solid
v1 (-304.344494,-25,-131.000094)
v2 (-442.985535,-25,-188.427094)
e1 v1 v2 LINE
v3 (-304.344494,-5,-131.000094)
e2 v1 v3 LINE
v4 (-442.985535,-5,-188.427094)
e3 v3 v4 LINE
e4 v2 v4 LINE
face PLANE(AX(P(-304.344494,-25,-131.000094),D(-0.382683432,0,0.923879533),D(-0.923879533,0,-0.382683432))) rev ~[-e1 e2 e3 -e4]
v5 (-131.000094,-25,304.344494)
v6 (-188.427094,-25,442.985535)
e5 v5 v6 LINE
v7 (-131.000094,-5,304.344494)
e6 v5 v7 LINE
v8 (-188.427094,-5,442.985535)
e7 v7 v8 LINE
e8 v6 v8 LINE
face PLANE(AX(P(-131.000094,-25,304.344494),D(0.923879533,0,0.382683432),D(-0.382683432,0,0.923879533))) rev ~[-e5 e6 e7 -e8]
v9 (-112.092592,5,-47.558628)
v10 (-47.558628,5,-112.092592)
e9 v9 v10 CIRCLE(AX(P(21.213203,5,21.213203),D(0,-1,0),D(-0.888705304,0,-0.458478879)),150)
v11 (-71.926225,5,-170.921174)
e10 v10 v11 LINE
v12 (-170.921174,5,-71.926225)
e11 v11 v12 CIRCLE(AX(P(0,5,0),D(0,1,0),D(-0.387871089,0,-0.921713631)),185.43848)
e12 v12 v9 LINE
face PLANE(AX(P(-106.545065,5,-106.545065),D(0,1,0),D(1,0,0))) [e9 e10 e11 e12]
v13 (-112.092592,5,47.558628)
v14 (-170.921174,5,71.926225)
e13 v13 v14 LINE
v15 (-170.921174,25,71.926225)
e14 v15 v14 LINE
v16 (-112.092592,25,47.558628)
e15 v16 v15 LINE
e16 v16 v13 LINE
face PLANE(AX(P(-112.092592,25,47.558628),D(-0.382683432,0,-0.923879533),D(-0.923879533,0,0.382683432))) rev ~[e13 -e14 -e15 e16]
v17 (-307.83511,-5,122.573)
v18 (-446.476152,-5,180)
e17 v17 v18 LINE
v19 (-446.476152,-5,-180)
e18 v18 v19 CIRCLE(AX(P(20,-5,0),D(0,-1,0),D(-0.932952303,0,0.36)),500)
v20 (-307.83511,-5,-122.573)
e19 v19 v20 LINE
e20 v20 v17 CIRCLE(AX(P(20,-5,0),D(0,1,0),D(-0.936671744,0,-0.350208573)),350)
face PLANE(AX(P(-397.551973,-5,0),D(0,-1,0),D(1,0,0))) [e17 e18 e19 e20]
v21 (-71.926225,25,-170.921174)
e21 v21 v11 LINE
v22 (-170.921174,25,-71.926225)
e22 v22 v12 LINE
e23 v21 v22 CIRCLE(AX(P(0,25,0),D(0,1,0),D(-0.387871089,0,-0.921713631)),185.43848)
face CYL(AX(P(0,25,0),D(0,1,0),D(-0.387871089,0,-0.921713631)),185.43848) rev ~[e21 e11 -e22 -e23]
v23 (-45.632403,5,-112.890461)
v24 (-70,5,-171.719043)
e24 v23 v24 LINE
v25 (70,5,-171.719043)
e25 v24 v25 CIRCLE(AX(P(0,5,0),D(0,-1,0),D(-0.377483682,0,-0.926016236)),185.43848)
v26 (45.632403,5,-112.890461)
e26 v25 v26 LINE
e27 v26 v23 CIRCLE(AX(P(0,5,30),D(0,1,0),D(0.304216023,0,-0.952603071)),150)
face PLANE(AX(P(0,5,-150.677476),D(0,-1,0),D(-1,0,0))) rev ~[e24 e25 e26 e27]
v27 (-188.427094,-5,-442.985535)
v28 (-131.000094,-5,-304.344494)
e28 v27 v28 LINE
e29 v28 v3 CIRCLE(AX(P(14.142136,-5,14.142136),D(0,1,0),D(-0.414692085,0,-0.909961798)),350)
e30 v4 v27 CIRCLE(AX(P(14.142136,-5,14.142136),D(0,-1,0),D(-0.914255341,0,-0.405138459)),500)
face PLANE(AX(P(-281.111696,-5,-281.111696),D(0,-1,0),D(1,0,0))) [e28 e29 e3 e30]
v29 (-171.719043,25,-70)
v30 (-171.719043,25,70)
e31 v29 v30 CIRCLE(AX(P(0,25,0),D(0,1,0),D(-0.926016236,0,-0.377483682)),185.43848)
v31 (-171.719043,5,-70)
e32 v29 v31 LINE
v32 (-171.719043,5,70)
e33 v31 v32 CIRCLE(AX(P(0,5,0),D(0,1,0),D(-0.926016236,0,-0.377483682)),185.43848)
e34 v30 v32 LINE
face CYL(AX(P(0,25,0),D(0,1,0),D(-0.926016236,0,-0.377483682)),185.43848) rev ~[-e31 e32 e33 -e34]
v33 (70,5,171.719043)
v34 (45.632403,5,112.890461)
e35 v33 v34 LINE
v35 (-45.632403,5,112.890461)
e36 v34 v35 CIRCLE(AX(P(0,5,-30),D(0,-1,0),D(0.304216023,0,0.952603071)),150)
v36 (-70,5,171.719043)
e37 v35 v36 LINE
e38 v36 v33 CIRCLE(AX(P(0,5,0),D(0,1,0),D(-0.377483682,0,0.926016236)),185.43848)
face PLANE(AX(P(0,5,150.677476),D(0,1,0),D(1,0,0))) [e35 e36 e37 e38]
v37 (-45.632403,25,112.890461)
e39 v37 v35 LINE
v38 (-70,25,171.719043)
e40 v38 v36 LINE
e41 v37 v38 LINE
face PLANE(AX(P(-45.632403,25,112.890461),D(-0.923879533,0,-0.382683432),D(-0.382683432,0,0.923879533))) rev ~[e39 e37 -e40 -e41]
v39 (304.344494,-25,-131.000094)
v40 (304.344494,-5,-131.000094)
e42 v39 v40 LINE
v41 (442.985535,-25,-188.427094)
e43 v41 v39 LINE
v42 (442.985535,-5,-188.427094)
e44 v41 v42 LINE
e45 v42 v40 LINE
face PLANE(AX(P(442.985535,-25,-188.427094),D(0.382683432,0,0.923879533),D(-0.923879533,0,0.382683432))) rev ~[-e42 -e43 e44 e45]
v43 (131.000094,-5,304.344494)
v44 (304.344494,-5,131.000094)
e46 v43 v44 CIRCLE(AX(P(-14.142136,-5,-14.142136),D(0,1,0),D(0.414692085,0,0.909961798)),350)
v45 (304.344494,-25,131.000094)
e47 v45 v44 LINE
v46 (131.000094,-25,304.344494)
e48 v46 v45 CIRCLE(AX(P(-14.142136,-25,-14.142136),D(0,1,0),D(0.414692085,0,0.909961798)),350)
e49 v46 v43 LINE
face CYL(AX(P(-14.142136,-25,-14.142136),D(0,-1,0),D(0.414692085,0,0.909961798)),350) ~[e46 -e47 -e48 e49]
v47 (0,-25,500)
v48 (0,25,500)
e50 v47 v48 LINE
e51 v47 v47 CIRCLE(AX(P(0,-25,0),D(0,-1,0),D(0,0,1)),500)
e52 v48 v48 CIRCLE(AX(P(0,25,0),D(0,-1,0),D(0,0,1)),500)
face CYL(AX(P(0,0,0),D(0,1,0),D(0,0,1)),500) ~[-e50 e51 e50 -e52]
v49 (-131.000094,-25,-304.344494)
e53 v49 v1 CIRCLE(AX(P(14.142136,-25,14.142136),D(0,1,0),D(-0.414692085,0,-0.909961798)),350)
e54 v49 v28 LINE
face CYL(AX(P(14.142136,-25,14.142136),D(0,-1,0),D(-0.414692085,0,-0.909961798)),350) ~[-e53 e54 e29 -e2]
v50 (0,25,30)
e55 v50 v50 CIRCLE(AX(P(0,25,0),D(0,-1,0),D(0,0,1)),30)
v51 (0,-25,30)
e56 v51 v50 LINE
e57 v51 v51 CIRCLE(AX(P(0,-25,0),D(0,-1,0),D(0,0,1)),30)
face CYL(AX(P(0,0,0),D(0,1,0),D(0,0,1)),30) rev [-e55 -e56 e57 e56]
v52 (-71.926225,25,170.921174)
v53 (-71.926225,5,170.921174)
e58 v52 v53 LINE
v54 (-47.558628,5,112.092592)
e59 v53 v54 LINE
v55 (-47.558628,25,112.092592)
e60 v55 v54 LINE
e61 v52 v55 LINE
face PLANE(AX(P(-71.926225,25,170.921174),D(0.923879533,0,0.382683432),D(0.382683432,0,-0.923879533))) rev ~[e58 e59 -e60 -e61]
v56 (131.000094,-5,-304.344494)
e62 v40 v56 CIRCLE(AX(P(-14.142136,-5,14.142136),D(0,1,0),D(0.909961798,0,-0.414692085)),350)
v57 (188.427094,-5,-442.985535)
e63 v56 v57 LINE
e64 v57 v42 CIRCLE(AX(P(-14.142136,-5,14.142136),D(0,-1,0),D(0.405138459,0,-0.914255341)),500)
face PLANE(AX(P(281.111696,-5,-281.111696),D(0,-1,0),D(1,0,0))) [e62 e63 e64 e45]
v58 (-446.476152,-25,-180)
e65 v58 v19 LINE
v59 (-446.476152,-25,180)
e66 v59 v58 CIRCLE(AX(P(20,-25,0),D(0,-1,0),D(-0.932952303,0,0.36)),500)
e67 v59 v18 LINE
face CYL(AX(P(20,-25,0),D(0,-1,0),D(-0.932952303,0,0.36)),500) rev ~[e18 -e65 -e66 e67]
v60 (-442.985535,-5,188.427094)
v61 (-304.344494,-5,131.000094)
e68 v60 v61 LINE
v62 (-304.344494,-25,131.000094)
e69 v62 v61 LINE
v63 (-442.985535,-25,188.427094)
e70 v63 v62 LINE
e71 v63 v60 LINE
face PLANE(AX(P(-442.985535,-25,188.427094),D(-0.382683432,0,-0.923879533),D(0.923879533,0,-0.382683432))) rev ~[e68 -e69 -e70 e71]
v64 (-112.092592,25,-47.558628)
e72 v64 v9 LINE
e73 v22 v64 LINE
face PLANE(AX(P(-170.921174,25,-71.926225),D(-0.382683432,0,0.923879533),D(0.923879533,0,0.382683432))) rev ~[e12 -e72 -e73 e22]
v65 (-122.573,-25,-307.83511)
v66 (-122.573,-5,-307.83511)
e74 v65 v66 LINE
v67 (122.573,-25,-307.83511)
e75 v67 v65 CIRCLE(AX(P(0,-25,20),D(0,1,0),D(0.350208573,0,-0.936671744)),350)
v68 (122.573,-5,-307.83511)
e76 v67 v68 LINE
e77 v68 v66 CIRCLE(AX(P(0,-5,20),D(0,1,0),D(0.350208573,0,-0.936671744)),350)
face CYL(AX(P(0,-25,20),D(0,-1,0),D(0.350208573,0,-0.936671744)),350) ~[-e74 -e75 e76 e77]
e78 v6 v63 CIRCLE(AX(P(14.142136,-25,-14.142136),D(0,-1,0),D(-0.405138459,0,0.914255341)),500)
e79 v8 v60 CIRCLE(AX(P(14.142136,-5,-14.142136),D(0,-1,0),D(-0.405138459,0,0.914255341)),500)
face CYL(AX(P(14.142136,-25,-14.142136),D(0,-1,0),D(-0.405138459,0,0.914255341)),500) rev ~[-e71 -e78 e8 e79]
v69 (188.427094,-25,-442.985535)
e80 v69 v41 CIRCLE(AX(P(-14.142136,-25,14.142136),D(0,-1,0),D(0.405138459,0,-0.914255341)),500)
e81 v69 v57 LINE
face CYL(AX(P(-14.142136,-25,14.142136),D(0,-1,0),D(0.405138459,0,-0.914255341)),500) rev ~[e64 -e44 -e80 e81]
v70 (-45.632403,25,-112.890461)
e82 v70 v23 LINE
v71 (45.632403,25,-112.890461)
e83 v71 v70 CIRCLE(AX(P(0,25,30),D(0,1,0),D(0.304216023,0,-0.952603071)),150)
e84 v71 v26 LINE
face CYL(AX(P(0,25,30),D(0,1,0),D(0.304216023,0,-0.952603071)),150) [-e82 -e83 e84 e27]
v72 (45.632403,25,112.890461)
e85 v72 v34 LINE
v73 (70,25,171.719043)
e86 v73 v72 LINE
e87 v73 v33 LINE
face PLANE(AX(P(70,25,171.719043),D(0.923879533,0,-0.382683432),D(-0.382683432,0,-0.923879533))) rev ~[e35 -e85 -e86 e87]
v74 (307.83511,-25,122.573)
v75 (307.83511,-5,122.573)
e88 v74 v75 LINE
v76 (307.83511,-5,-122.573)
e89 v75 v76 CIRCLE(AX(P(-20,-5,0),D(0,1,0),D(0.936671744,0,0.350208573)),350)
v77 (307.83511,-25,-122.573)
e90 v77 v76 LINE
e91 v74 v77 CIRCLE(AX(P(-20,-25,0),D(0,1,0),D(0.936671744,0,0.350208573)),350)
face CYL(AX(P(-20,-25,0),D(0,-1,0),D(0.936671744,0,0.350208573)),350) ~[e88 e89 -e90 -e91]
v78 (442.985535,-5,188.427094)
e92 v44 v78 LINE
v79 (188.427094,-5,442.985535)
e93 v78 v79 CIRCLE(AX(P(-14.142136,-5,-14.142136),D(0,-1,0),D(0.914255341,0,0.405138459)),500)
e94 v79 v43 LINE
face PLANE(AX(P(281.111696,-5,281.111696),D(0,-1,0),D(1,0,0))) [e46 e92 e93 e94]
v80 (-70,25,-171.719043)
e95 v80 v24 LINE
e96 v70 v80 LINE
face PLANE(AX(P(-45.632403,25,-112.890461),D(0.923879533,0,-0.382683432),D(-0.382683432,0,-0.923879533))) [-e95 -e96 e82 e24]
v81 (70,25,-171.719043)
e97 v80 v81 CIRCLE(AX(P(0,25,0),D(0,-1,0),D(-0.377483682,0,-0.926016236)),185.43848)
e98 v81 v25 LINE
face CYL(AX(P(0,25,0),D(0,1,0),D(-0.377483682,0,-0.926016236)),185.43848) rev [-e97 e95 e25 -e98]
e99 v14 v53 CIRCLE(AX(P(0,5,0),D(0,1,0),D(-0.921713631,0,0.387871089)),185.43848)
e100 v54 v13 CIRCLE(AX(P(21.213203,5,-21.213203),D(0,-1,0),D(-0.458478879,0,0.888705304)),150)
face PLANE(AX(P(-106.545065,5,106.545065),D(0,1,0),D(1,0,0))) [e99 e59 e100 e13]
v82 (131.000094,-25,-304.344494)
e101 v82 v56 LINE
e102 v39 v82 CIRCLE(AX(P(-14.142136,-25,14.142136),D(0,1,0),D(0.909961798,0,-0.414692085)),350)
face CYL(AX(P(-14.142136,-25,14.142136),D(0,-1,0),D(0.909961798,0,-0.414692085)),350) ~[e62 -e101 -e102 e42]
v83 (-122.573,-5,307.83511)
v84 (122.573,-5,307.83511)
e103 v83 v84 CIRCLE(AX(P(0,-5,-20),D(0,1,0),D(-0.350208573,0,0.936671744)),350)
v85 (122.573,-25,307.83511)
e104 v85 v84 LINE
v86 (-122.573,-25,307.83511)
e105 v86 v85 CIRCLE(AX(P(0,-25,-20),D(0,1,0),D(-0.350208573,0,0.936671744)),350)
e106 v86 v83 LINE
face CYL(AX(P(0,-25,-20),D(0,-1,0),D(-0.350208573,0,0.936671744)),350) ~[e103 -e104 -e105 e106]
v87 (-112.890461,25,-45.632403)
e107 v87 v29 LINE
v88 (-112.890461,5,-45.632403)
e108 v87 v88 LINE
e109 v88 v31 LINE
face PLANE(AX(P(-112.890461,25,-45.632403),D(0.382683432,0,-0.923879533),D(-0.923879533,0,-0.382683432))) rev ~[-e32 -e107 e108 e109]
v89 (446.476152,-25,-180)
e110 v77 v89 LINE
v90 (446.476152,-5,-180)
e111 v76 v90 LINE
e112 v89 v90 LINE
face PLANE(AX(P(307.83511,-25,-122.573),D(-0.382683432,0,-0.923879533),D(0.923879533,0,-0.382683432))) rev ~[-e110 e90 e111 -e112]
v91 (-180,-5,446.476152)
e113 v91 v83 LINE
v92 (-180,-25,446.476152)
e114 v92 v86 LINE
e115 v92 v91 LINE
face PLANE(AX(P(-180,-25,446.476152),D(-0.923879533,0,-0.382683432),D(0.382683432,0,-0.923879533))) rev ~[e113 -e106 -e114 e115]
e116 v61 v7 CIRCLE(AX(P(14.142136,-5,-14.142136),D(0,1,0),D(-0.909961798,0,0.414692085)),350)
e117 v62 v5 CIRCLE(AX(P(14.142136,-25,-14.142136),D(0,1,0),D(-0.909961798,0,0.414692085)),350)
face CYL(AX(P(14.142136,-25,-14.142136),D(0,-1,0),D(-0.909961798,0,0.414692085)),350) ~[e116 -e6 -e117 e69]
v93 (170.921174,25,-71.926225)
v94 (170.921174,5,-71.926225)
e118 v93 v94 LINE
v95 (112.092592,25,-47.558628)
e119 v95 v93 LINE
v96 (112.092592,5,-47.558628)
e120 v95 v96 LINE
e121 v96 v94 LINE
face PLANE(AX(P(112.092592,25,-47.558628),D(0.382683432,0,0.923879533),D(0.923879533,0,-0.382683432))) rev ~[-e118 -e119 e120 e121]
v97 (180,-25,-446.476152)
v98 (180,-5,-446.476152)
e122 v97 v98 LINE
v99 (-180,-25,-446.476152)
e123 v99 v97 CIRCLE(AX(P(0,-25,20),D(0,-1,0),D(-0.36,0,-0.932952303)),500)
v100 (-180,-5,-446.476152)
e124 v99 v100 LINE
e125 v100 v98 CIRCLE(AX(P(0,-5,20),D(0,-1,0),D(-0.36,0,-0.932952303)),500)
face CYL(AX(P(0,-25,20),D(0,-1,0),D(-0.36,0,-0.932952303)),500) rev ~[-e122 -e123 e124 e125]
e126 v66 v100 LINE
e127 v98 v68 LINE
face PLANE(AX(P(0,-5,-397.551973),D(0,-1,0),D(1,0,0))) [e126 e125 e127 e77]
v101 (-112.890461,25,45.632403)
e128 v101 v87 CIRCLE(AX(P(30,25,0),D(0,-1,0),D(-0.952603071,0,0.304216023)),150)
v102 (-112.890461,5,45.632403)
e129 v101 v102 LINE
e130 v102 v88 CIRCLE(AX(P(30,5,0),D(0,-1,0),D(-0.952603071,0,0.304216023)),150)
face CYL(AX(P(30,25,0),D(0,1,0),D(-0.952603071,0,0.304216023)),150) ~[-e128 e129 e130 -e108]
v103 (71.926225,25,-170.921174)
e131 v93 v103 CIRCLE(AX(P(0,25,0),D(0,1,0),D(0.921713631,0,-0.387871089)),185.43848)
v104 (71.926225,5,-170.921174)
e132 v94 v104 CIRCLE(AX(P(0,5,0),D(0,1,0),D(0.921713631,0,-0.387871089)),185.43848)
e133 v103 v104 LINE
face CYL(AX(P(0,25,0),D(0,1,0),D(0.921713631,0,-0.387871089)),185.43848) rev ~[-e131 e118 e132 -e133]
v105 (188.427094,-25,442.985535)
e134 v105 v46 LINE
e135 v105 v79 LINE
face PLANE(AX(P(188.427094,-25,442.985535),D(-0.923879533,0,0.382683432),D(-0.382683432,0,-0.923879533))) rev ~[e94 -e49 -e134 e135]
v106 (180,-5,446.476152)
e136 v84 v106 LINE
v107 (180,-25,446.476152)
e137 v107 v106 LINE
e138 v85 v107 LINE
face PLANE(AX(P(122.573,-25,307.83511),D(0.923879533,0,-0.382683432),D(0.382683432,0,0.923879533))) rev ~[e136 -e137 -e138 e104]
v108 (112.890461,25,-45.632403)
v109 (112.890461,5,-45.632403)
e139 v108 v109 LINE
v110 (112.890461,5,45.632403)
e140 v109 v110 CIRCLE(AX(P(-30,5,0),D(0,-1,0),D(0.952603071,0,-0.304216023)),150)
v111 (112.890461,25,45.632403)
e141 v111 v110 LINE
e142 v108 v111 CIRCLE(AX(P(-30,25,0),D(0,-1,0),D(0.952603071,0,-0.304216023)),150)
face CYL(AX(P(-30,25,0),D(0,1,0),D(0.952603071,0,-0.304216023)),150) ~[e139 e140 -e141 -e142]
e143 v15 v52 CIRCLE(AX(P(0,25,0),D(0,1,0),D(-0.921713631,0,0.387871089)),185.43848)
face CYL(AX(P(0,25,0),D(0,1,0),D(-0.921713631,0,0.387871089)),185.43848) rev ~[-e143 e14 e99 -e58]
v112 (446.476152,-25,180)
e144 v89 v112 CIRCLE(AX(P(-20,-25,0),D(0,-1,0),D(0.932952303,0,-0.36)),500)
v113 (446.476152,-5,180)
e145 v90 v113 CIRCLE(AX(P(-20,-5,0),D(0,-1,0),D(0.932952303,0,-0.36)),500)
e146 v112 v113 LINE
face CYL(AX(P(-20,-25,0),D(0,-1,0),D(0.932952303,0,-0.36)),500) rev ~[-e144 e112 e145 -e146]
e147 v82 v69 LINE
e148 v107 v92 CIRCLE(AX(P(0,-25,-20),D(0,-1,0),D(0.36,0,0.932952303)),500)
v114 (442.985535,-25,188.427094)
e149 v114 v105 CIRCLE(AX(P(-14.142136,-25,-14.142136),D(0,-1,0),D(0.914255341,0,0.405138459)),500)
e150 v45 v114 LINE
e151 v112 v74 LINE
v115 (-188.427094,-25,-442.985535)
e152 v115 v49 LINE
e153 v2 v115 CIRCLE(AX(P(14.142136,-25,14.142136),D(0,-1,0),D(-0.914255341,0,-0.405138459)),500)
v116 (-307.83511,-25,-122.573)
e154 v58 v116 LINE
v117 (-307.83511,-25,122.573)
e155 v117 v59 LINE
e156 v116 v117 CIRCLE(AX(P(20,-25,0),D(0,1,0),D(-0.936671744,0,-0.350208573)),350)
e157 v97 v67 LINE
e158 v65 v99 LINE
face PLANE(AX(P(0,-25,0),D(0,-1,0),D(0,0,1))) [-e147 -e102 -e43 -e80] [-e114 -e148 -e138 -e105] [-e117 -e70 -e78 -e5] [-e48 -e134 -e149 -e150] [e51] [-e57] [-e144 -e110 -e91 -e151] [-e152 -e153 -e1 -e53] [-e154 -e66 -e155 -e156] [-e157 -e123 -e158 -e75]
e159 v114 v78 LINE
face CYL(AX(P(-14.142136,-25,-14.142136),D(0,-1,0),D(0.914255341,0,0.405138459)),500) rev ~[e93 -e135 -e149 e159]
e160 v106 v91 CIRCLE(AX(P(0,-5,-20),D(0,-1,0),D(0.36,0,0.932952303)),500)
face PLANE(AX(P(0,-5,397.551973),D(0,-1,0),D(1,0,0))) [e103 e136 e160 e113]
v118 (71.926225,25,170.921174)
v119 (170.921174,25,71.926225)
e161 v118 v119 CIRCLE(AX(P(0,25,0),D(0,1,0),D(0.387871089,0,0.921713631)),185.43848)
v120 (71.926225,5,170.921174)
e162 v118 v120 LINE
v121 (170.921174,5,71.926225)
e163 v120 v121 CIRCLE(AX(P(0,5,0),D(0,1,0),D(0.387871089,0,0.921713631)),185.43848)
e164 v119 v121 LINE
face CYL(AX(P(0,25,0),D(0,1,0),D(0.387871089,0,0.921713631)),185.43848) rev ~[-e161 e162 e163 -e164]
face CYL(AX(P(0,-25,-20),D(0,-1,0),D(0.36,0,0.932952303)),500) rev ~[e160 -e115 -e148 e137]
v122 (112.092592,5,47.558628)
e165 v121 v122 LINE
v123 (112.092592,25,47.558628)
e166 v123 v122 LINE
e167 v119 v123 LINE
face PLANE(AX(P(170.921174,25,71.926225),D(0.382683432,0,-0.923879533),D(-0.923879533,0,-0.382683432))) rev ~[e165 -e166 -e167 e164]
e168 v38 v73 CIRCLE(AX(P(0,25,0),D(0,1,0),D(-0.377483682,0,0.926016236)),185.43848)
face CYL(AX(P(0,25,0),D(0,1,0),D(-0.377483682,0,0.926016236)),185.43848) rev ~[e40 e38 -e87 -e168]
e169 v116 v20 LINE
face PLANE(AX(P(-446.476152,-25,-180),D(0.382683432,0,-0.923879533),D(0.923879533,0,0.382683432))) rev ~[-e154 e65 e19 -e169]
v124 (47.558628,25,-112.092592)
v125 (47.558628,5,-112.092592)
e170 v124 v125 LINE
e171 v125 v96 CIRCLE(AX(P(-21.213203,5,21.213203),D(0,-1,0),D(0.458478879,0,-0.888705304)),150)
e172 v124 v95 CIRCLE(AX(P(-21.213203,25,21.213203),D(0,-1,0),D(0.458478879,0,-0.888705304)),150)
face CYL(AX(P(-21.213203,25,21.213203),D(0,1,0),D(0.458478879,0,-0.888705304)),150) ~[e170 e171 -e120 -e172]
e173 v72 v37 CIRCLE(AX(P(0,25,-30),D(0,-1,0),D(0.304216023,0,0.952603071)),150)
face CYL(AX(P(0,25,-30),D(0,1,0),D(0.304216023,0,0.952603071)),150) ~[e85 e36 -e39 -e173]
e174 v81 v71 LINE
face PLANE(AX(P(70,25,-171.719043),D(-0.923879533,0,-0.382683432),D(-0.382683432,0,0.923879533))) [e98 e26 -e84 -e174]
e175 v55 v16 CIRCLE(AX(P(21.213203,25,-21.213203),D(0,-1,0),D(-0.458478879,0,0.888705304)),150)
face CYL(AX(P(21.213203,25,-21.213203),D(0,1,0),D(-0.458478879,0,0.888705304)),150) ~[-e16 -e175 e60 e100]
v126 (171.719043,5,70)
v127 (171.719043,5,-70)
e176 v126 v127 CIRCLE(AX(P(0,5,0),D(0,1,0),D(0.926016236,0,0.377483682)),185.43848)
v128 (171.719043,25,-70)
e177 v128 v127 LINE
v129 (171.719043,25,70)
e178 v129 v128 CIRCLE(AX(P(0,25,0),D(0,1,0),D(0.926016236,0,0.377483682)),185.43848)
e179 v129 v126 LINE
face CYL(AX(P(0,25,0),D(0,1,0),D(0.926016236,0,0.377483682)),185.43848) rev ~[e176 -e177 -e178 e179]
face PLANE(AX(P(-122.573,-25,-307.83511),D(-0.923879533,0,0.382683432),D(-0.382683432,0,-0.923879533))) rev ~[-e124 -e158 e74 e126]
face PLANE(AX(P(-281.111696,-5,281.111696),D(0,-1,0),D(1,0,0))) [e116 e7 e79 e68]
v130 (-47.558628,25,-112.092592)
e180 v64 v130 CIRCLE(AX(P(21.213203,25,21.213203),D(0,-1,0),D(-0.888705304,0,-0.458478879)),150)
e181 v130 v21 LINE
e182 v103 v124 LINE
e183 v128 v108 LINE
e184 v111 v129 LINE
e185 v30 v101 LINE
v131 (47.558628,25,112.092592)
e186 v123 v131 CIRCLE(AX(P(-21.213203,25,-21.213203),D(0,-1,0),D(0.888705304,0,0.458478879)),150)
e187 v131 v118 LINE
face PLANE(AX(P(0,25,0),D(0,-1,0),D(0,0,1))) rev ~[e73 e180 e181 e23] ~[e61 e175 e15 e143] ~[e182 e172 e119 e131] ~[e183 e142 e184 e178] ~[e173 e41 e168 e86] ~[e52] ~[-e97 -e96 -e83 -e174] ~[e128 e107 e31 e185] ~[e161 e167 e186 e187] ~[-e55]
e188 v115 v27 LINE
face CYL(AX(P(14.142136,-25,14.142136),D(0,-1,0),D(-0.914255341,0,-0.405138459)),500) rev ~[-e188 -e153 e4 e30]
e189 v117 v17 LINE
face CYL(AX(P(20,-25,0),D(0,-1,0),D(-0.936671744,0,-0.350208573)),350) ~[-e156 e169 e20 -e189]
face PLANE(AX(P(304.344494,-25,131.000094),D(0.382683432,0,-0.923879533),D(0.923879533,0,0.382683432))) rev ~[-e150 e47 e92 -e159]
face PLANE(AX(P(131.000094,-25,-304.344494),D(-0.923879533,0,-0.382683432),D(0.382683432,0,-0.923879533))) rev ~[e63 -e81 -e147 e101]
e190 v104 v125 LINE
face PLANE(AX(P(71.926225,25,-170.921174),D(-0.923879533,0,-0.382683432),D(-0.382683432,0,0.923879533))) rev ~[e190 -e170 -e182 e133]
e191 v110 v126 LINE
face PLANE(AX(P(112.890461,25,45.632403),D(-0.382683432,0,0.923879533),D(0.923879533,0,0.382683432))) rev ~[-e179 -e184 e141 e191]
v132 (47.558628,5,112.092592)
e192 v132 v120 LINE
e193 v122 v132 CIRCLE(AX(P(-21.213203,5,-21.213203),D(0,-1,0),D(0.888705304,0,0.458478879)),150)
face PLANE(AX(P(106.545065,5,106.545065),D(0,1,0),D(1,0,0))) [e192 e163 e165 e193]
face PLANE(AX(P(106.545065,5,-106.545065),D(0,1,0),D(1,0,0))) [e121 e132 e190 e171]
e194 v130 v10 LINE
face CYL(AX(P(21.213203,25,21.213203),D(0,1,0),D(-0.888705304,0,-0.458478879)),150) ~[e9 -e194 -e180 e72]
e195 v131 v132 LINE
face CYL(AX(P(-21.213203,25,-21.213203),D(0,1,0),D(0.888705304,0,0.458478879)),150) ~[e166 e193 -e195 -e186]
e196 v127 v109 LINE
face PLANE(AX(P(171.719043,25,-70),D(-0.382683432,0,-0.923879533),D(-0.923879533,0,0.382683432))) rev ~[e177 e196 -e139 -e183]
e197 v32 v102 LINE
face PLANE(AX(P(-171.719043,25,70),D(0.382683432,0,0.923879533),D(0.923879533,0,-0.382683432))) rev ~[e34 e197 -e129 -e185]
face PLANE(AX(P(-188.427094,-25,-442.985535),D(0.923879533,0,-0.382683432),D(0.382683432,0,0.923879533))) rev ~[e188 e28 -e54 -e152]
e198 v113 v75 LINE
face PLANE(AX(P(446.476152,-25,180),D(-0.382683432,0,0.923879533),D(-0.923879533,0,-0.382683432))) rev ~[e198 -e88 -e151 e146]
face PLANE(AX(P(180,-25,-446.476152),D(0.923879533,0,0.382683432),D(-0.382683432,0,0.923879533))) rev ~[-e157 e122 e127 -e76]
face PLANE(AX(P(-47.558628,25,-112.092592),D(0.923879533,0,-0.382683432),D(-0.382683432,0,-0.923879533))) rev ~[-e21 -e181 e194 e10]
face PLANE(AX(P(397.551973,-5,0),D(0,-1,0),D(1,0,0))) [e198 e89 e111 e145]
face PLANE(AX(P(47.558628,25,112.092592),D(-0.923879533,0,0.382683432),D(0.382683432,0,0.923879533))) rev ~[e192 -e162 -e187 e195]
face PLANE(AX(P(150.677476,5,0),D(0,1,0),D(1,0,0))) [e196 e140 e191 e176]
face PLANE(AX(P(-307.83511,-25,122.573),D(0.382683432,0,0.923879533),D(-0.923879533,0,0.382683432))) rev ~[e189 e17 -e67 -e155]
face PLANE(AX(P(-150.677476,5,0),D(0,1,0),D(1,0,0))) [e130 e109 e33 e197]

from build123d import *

# Parameters (mm, degrees)
SKETCH1_W          = 470
SKETCH1_H          = 50
CUT_EXTRUDE1_DEPTH = 20
CUT_EXTRUDE2_DEPTH = 20


with BuildPart() as part:
    # Sketch1 → Revolve1 (revolve)
    with BuildSketch(Plane(origin=(0, 0, 0), x_dir=(0, 0, -1), z_dir=(1, 0, 0))):
        with Locations((-265, 0)):
            Rectangle(SKETCH1_W, SKETCH1_H)
    revolve(axis=Axis((0, 285.555555556, 0), (0, -1, 0)))

    # Sketch2 → Cut-Extrude1 (cut)
    with BuildSketch(Plane.XZ.offset(25)):
        with BuildLine():
            Line((-180, 446.476151588), (-122.573000413, 307.835110337))
            ThreePointArc((-122.573000413, 307.835110337), (0, 330), (122.573000413, 307.835110337))
            Line((122.573000413, 307.835110337), (180, 446.476151588))
            ThreePointArc((180, 446.476151588), (0, 480), (-180, 446.476151588))
        make_face()
        with BuildLine():
            Line((188.427093812, 442.985535039), (131.000094225, 304.344493789))
            ThreePointArc((131.000094225, 304.344493789), (233.345237792, 233.345237792), (304.344493789, 131.000094225))
            Line((304.344493789, 131.000094225), (442.985535039, 188.427093812))
            ThreePointArc((442.985535039, 188.427093812), (339.41125497, 339.41125497), (188.427093812, 442.985535039))
        make_face()
        with BuildLine():
            Line((446.476151588, 180), (307.835110337, 122.573000413))
            ThreePointArc((307.835110337, 122.573000413), (330, 0), (307.835110337, -122.573000413))
            Line((307.835110337, -122.573000413), (446.476151588, -180))
            ThreePointArc((446.476151588, -180), (480, 0), (446.476151588, 180))
        make_face()
        with BuildLine():
            Line((442.985535039, -188.427093812), (304.344493789, -131.000094225))
            ThreePointArc((304.344493789, -131.000094225), (233.345237792, -233.345237792), (131.000094225, -304.344493789))
            Line((131.000094225, -304.344493789), (188.427093812, -442.985535039))
            ThreePointArc((188.427093812, -442.985535039), (339.41125497, -339.41125497), (442.985535039, -188.427093812))
        make_face()
        with BuildLine():
            Line((180, -446.476151588), (122.573000413, -307.835110337))
            ThreePointArc((122.573000413, -307.835110337), (0, -330), (-122.573000413, -307.835110337))
            Line((-122.573000413, -307.835110337), (-180, -446.476151588))
            ThreePointArc((-180, -446.476151588), (0, -480), (180, -446.476151588))
        make_face()
        with BuildLine():
            Line((-188.427093812, -442.985535039), (-131.000094225, -304.344493789))
            ThreePointArc((-131.000094225, -304.344493789), (-233.345237792, -233.345237792), (-304.344493789, -131.000094225))
            Line((-304.344493789, -131.000094225), (-442.985535039, -188.427093812))
            ThreePointArc((-442.985535039, -188.427093812), (-339.41125497, -339.41125497), (-188.427093812, -442.985535039))
        make_face()
        with BuildLine():
            Line((-446.476151588, -180), (-307.835110337, -122.573000413))
            ThreePointArc((-307.835110337, -122.573000413), (-330, 0), (-307.835110337, 122.573000413))
            Line((-307.835110337, 122.573000413), (-446.476151588, 180))
            ThreePointArc((-446.476151588, 180), (-480, 0), (-446.476151588, -180))
        make_face()
        with BuildLine():
            Line((-442.985535039, 188.427093812), (-304.344493789, 131.000094225))
            ThreePointArc((-304.344493789, 131.000094225), (-233.345237792, 233.345237792), (-131.000094225, 304.344493789))
            Line((-131.000094225, 304.344493789), (-188.427093812, 442.985535039))
            ThreePointArc((-188.427093812, 442.985535039), (-339.41125497, 339.41125497), (-442.985535039, 188.427093812))
        make_face()
    extrude(amount=-CUT_EXTRUDE1_DEPTH, mode=Mode.SUBTRACT)

    # Sketch3 → Cut-Extrude2 (cut)
    with BuildSketch(Plane(origin=(0, 25, 0), x_dir=(1, 0, 0), z_dir=(0, 1, 0))):
        with BuildLine():
            Line((-45.632403393, 112.890460705), (-70, 171.719042916))
            ThreePointArc((-70, 171.719042916), (0, 185.438479556), (70, 171.719042916))
            Line((70, 171.719042916), (45.632403393, 112.890460705))
            ThreePointArc((45.632403393, 112.890460705), (0, 120), (-45.632403393, 112.890460705))
        make_face()
        with BuildLine():
            Line((112.092592177, 47.558628415), (170.921174388, 71.926225022))
            ThreePointArc((170.921174388, 71.926225022), (131.124806387, 131.124806387), (71.926225022, 170.921174388))
            Line((71.926225022, 170.921174388), (47.558628415, 112.092592177))
            ThreePointArc((47.558628415, 112.092592177), (84.852813742, 84.852813742), (112.092592177, 47.558628415))
        make_face()
        with BuildLine():
            Line((112.890460705, -45.632403393), (171.719042916, -70))
            ThreePointArc((171.719042916, -70), (185.438479556, 0), (171.719042916, 70))
            Line((171.719042916, 70), (112.890460705, 45.632403393))
            ThreePointArc((112.890460705, 45.632403393), (120, 0), (112.890460705, -45.632403393))
        make_face()
        with BuildLine():
            Line((47.558628415, -112.092592177), (71.926225022, -170.921174388))
            ThreePointArc((71.926225022, -170.921174388), (131.124806387, -131.124806387), (170.921174388, -71.926225022))
            Line((170.921174388, -71.926225022), (112.092592177, -47.558628415))
            ThreePointArc((112.092592177, -47.558628415), (84.852813742, -84.852813742), (47.558628415, -112.092592177))
        make_face()
        with BuildLine():
            Line((-45.632403393, -112.890460705), (-70, -171.719042916))
            ThreePointArc((-70, -171.719042916), (0, -185.438479556), (70, -171.719042916))
            Line((70, -171.719042916), (45.632403393, -112.890460705))
            ThreePointArc((45.632403393, -112.890460705), (0, -120), (-45.632403393, -112.890460705))
        make_face()
        with BuildLine():
            Line((-112.092592177, -47.558628415), (-170.921174388, -71.926225022))
            ThreePointArc((-170.921174388, -71.926225022), (-131.124806387, -131.124806387), (-71.926225022, -170.921174388))
            Line((-71.926225022, -170.921174388), (-47.558628415, -112.092592177))
            ThreePointArc((-47.558628415, -112.092592177), (-84.852813742, -84.852813742), (-112.092592177, -47.558628415))
        make_face()
        with BuildLine():
            Line((-112.890460705, 45.632403393), (-171.719042916, 70))
            ThreePointArc((-171.719042916, 70), (-185.438479556, 0), (-171.719042916, -70))
            Line((-171.719042916, -70), (-112.890460705, -45.632403393))
            ThreePointArc((-112.890460705, -45.632403393), (-120, 0), (-112.890460705, 45.632403393))
        make_face()
        with BuildLine():
            Line((-47.558628415, 112.092592177), (-71.926225022, 170.921174388))
            ThreePointArc((-71.926225022, 170.921174388), (-131.124806387, 131.124806387), (-170.921174388, 71.926225022))
            Line((-170.921174388, 71.926225022), (-112.092592177, 47.558628415))
            ThreePointArc((-112.092592177, 47.558628415), (-84.852813742, 84.852813742), (-47.558628415, 112.092592177))
        make_face()
    extrude(amount=-CUT_EXTRUDE2_DEPTH, mode=Mode.SUBTRACT)


solid = part.part
